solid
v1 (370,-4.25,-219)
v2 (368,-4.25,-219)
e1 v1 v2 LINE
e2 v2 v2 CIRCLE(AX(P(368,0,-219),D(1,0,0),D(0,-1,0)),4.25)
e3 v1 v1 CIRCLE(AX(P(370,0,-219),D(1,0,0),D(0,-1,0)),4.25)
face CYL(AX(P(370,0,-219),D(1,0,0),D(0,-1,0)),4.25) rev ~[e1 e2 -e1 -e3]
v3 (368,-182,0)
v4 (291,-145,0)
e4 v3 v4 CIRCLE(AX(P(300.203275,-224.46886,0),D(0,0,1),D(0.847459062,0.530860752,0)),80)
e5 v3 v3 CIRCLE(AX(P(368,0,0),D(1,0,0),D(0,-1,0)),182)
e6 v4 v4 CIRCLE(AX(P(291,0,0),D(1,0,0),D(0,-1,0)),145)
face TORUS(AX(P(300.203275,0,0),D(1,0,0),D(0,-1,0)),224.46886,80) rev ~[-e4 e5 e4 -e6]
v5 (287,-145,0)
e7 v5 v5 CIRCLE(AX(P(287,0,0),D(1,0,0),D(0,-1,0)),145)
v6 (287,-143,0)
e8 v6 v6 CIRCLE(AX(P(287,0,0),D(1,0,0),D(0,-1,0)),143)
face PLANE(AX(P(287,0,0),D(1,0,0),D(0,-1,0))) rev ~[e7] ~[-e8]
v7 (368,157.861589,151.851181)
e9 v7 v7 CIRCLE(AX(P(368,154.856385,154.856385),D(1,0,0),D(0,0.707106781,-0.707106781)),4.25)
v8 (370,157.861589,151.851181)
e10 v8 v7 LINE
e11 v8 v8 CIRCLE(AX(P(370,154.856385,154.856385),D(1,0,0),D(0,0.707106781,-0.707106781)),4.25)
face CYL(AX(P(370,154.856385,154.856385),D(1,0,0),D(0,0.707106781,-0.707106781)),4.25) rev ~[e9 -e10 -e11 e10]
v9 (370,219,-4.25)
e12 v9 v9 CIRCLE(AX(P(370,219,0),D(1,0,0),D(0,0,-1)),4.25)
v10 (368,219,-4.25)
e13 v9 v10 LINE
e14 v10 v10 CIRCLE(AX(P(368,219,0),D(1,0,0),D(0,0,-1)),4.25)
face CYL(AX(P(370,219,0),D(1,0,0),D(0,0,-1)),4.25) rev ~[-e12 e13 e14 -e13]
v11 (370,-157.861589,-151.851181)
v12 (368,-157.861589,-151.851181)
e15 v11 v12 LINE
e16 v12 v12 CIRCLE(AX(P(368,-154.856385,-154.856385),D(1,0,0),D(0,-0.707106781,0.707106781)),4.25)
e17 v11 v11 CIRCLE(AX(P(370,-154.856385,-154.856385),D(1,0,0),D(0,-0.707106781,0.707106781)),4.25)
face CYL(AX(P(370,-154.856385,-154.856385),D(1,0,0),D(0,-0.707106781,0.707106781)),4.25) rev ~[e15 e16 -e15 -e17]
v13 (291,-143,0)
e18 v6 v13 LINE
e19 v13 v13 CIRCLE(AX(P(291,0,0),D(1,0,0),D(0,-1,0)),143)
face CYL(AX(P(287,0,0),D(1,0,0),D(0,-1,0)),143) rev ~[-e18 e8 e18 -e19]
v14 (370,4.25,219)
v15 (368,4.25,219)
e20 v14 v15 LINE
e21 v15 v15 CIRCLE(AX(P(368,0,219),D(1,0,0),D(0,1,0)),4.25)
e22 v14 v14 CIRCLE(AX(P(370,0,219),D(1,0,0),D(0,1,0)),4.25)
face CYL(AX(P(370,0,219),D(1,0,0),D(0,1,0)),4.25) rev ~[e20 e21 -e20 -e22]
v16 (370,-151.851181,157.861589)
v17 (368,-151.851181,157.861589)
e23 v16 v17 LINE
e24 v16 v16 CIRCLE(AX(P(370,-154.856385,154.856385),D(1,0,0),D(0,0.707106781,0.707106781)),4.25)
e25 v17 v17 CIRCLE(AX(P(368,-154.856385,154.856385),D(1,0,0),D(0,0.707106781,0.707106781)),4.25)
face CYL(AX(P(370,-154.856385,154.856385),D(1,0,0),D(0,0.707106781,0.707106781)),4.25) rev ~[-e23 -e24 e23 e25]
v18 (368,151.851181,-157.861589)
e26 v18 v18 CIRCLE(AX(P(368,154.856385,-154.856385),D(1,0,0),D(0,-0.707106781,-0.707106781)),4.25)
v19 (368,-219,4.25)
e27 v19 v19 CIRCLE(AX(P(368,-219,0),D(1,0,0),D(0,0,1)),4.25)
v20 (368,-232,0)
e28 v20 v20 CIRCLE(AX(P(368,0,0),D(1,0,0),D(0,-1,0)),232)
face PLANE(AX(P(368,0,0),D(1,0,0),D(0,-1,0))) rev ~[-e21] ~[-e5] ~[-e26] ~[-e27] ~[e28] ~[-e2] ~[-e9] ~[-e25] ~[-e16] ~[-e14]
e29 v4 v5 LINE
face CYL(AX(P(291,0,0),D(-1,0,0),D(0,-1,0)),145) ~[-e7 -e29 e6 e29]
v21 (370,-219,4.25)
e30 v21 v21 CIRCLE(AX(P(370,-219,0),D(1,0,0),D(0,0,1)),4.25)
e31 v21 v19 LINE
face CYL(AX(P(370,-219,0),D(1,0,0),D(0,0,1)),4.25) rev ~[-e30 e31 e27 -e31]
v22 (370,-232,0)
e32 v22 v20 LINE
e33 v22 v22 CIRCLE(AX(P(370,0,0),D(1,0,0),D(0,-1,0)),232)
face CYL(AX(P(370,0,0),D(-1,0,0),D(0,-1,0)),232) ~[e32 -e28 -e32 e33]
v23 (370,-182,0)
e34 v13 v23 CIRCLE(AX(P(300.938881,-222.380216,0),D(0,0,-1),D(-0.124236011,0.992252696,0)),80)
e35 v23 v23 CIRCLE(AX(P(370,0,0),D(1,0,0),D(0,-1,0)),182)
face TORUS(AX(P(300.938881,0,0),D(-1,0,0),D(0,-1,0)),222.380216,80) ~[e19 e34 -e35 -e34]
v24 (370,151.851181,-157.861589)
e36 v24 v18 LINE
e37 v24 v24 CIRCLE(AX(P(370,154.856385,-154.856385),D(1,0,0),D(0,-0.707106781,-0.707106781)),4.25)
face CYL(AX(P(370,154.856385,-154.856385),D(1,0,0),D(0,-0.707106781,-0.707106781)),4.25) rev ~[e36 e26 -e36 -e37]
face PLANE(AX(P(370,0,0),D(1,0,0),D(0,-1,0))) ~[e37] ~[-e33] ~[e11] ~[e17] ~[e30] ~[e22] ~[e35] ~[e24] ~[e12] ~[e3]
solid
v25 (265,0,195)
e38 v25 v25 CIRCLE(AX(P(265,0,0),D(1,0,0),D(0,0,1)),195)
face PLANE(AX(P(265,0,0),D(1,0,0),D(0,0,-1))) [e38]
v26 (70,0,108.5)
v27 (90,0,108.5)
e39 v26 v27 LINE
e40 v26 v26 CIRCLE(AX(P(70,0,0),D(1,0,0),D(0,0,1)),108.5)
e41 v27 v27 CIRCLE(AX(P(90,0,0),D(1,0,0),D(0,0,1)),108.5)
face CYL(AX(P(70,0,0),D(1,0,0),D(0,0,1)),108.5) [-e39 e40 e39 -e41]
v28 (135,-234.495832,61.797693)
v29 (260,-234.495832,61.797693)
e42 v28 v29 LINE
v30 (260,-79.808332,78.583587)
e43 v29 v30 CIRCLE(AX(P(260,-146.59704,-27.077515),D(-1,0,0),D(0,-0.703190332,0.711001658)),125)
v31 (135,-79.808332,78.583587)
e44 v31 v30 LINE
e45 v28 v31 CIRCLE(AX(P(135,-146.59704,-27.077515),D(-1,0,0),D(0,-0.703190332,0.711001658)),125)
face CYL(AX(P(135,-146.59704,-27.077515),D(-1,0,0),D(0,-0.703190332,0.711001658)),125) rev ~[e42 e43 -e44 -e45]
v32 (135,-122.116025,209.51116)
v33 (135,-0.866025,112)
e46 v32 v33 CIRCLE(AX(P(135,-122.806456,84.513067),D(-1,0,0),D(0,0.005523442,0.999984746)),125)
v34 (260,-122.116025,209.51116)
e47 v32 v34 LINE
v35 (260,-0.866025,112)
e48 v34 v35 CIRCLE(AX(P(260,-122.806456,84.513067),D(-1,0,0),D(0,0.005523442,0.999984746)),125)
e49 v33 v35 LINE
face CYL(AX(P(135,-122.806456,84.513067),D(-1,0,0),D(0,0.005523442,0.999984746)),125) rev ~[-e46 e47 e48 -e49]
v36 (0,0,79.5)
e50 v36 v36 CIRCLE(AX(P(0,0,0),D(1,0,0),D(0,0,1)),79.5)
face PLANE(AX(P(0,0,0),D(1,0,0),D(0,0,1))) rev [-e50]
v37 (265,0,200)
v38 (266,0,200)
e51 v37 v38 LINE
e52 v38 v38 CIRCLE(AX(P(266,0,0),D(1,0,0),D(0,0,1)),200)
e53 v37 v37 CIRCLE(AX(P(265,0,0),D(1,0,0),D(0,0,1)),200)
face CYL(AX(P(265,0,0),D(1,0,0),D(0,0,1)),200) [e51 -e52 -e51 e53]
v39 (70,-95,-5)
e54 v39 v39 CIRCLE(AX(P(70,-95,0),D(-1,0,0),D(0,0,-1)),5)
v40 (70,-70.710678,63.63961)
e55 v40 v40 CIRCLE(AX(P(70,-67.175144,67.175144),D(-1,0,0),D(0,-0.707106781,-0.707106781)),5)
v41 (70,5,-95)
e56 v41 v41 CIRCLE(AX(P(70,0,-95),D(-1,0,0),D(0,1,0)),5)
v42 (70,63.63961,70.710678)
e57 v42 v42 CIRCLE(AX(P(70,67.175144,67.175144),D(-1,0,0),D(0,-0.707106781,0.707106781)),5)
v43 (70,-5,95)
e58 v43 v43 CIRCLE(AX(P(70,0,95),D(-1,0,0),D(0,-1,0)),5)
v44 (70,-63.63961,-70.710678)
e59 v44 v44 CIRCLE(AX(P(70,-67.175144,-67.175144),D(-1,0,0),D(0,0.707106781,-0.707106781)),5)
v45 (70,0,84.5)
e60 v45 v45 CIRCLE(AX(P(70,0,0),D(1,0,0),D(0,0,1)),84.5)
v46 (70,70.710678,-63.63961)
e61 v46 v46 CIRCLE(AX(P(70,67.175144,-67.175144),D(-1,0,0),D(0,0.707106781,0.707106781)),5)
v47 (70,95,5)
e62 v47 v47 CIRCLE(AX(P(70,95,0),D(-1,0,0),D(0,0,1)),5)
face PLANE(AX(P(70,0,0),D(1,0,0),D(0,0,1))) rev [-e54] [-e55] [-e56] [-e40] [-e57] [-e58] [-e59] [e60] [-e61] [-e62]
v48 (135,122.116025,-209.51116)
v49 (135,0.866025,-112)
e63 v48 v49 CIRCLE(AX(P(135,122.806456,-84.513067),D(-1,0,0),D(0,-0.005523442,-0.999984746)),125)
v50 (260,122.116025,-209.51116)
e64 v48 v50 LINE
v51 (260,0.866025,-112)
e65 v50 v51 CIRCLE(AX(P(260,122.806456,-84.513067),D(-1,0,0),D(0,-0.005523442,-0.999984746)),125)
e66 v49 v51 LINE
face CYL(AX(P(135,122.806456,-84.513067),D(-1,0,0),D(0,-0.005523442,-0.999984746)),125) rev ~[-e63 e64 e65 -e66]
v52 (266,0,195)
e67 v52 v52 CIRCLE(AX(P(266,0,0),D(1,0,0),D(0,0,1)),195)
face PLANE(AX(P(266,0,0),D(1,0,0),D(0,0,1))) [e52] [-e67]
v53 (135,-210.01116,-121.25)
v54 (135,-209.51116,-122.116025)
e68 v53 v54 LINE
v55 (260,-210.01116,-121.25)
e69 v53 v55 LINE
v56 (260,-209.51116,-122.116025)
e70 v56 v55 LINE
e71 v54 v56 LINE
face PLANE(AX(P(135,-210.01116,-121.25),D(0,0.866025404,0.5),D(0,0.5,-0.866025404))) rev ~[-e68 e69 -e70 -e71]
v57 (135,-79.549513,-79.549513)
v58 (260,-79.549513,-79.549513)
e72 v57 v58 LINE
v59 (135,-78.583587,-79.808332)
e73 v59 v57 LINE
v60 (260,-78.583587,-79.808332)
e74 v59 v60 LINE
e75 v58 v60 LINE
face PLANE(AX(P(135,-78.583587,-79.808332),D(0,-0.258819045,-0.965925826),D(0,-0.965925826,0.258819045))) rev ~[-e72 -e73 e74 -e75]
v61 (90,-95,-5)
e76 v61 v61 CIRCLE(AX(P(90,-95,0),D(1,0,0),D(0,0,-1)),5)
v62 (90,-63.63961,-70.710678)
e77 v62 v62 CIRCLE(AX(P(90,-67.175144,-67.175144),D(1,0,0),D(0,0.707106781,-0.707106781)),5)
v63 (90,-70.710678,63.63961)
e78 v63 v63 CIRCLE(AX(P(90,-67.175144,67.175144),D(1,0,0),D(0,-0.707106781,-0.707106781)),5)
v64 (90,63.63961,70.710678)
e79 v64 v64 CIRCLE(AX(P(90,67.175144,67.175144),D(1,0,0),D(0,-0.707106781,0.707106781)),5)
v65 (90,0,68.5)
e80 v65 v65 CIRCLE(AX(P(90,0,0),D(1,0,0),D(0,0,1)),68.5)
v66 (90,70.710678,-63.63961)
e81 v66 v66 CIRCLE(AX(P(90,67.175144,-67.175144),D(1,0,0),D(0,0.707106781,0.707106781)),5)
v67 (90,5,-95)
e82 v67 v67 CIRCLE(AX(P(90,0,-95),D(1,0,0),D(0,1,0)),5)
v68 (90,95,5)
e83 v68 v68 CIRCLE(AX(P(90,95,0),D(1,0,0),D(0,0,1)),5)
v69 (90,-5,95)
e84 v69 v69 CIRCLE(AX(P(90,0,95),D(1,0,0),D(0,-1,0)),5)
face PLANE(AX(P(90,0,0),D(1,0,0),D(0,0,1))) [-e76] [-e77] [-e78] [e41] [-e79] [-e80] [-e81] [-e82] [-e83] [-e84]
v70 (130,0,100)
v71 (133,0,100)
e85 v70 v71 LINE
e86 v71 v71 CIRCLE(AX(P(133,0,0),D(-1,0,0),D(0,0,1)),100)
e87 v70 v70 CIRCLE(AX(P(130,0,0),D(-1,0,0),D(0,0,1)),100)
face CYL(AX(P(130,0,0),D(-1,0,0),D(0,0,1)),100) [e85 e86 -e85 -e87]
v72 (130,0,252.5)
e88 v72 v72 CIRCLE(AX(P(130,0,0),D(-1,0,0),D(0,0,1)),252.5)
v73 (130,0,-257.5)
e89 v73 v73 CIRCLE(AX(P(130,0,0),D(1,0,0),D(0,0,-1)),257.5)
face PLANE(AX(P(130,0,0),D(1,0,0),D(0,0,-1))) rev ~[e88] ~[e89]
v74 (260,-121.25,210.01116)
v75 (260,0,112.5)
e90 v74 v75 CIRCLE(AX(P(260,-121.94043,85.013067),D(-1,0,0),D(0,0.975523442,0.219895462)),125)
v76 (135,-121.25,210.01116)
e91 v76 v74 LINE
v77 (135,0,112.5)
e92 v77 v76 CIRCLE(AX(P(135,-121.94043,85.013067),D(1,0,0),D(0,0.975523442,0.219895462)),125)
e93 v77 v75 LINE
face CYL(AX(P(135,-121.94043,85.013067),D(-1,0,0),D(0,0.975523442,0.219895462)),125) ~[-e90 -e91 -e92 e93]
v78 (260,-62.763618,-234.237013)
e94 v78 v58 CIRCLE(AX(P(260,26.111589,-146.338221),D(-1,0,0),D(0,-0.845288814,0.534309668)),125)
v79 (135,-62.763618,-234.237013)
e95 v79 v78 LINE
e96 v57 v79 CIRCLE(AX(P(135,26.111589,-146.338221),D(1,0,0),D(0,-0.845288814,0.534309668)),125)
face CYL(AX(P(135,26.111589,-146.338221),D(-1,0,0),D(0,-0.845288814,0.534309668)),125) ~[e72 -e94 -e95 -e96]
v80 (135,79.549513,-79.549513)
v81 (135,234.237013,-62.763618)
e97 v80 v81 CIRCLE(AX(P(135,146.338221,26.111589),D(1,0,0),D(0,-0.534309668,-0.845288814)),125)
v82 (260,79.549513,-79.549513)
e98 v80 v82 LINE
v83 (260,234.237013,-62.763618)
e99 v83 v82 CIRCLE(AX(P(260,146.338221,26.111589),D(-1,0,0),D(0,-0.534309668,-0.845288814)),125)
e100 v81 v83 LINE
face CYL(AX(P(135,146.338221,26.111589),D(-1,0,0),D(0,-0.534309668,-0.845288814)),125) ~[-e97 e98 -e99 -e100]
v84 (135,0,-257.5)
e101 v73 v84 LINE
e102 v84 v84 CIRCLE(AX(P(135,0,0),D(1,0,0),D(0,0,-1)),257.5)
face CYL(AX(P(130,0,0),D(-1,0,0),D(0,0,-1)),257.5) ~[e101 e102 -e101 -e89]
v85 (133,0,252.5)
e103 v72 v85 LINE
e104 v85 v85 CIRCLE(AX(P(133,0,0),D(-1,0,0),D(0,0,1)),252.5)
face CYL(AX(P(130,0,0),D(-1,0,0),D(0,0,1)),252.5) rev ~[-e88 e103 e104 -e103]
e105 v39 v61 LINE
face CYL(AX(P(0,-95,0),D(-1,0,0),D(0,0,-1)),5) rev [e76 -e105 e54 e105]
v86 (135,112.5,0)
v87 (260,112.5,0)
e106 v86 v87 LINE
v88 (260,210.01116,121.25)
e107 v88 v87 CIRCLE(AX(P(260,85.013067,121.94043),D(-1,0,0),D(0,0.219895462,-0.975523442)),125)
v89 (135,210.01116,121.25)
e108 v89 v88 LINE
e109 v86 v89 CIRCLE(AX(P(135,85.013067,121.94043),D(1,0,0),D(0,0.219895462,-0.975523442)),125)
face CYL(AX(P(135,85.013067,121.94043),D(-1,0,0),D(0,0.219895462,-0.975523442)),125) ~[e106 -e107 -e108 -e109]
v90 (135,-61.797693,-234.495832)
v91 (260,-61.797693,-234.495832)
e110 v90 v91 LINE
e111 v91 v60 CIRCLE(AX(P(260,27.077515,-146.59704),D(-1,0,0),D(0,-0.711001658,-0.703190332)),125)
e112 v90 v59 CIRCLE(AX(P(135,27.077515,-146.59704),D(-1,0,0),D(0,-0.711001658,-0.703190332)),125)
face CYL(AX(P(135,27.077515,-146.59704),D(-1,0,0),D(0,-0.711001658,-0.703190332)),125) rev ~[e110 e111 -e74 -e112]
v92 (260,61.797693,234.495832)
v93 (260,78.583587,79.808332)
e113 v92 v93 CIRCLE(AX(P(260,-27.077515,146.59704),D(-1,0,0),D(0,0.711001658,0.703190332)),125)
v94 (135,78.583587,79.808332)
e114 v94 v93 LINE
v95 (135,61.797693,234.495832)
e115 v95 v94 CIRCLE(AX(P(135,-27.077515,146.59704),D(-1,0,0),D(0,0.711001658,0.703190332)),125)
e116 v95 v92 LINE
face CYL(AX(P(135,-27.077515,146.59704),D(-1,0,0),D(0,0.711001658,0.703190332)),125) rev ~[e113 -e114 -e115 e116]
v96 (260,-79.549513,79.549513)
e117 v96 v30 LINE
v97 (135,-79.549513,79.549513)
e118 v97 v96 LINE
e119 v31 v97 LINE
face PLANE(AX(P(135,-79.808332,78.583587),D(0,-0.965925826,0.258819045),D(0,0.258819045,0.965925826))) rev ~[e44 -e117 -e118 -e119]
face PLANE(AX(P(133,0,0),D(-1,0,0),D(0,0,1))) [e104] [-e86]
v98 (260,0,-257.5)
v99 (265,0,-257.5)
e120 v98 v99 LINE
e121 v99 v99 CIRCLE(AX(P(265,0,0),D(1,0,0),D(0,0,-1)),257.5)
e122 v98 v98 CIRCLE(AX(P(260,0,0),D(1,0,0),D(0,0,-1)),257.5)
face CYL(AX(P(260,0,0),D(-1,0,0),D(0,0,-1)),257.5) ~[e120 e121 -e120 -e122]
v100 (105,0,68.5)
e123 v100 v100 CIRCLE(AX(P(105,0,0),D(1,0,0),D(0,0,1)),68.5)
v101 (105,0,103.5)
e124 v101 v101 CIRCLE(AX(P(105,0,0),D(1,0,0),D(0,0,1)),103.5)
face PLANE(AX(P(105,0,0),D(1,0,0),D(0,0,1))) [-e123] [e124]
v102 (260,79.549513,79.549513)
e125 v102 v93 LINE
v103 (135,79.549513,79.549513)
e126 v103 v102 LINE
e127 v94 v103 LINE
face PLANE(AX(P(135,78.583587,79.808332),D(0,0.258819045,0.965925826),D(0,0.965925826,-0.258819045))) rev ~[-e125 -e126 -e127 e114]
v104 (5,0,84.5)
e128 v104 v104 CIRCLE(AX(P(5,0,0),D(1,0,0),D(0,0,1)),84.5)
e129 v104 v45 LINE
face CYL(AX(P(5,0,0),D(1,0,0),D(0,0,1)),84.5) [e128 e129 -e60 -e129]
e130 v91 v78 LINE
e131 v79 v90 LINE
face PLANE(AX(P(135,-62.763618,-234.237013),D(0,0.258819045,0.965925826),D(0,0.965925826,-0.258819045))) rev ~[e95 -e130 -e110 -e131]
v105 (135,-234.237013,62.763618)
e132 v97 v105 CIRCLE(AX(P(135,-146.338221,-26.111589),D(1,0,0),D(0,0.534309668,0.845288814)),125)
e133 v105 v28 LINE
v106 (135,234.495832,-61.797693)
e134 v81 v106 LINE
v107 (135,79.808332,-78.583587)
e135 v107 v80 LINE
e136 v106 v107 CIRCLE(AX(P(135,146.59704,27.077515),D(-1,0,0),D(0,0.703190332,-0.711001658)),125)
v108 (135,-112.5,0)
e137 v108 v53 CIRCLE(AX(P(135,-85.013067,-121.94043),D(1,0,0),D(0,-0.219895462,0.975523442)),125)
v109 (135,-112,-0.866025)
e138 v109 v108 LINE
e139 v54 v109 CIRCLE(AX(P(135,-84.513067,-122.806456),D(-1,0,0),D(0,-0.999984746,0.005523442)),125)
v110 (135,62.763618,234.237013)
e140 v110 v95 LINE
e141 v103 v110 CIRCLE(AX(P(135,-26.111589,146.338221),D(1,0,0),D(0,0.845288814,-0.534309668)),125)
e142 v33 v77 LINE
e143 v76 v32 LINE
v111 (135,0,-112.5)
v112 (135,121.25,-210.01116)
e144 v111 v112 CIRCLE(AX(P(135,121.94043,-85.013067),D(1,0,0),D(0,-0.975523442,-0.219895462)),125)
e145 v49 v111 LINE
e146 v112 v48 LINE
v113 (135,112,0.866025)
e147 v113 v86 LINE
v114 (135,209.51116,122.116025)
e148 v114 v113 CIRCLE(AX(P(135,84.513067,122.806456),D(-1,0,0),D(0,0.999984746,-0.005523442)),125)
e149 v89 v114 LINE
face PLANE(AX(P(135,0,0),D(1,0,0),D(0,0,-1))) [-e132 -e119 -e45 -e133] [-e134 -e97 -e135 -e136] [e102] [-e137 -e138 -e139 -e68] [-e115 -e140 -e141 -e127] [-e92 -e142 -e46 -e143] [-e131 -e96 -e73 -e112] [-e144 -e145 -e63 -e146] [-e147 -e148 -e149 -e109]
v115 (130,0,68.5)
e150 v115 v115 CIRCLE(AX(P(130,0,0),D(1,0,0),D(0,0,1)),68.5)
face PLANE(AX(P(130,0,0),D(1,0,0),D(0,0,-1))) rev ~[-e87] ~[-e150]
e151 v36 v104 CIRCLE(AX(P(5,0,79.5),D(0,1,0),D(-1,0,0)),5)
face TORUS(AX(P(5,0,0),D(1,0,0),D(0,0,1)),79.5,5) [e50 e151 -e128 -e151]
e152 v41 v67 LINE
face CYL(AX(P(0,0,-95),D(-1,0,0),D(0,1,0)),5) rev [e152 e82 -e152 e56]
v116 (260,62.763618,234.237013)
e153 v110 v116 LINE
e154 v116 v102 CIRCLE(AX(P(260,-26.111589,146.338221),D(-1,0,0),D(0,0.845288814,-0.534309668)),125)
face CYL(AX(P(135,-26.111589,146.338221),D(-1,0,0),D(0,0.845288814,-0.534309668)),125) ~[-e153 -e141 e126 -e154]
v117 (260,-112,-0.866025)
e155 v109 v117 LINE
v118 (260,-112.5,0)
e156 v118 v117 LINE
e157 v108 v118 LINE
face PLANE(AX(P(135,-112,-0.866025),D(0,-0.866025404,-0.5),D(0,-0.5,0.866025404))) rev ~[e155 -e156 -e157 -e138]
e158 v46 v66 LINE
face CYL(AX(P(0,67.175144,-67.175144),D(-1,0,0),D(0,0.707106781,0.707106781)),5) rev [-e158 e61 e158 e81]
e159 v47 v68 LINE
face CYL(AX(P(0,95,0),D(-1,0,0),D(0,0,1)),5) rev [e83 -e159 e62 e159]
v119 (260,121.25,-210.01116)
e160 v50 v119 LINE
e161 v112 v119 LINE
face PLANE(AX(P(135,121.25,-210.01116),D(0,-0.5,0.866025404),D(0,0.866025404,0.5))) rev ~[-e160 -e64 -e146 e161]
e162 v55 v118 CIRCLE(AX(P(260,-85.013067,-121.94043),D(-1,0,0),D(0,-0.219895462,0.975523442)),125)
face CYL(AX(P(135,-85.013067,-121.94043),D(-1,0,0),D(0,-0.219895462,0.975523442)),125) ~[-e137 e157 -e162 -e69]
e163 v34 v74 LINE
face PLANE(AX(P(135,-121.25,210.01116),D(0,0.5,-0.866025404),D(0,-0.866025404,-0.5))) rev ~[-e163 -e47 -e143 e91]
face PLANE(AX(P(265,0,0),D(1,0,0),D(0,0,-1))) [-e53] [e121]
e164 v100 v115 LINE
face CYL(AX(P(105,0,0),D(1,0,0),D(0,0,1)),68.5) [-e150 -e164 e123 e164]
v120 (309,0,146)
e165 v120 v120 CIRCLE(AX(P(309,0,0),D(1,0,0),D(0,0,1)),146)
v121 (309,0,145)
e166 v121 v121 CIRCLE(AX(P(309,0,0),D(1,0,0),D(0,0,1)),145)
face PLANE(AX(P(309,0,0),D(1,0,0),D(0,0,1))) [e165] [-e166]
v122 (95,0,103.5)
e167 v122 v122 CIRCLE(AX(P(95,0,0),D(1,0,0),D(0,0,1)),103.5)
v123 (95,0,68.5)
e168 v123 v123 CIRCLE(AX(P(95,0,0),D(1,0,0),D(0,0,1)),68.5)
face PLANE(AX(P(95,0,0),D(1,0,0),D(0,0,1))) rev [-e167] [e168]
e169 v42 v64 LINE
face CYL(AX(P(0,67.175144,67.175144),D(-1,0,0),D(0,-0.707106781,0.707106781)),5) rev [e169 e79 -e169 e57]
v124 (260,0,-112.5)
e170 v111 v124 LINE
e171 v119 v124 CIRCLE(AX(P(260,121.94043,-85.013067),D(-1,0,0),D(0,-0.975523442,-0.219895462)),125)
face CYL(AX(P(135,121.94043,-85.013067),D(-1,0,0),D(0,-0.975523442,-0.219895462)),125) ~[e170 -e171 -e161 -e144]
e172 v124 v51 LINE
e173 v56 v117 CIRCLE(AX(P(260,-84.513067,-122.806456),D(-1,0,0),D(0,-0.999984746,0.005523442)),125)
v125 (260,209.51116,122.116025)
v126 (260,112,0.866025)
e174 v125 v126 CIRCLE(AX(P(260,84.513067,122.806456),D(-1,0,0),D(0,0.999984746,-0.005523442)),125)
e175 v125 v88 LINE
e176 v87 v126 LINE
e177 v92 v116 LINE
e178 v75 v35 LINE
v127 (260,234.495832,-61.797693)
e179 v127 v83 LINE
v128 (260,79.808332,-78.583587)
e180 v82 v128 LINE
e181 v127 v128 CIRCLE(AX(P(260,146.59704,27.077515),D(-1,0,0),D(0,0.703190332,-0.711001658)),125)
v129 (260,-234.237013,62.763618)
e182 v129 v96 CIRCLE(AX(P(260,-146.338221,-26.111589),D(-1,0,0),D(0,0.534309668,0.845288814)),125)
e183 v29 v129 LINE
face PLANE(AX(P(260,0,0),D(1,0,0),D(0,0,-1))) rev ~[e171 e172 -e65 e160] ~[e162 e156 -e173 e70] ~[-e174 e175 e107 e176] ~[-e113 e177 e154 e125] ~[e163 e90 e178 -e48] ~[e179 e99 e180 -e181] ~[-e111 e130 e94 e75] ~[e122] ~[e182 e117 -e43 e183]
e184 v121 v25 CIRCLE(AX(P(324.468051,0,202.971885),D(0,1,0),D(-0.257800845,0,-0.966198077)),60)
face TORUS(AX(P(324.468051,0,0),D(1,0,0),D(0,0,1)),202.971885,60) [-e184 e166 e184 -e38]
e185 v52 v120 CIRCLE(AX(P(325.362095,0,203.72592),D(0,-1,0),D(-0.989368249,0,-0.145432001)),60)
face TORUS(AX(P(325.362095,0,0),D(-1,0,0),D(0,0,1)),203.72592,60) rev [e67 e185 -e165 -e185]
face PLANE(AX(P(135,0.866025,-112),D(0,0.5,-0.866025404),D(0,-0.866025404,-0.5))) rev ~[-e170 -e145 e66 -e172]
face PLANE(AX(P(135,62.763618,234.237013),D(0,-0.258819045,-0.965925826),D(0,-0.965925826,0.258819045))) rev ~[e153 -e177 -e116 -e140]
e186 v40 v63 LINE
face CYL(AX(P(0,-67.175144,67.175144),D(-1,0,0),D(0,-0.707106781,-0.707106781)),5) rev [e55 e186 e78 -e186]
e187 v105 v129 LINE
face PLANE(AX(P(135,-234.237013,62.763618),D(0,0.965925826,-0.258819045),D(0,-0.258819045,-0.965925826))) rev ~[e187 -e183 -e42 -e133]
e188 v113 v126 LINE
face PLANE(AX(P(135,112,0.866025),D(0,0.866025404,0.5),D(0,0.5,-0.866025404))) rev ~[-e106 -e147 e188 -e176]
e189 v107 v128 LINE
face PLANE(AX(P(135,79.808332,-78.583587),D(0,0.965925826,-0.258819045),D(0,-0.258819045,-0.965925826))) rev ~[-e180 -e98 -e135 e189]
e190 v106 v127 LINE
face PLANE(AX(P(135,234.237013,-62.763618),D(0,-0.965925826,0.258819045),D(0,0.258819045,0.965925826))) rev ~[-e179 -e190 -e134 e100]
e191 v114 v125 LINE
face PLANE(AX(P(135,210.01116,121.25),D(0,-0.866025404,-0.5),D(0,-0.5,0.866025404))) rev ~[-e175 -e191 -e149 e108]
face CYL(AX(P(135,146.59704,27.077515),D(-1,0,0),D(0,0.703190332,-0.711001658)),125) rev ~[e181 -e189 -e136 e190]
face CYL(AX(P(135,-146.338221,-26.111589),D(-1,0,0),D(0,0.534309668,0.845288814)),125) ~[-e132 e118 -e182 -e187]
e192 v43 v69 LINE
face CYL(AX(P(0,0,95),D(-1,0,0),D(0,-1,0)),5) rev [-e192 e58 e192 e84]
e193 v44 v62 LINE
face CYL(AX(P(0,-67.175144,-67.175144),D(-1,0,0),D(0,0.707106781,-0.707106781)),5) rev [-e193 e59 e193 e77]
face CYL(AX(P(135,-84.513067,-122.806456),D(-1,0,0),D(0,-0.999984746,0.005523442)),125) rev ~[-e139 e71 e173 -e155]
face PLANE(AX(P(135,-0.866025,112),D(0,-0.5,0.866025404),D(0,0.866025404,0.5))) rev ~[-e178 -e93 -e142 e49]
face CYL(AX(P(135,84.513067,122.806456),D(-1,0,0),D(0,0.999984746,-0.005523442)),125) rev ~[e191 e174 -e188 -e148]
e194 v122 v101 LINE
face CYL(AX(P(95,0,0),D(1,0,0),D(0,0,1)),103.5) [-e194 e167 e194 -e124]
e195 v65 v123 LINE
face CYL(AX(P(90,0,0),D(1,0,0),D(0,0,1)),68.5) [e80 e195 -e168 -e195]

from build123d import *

# Parameters (mm, degrees)
SKETCH2_R         = 257.5
EXTRUDE1_DEPTH    = 5
SKETCH9_R         = 252.5
SKETCH9_R_2       = 100
EXTRUDE7_DEPTH    = 3
SKETCH3_R         = 257.5
EXTRUDE2_DEPTH    = 5
EXTRUDE3_DEPTH    = 130
CIRPATTERN1_COUNT = 8
SKETCH7_R         = 4.25
EXTRUDE5_DEPTH    = 5
CIRPATTERN2_COUNT = 8
SKETCH8_R         = 5
EXTRUDE6_DEPTH    = 90
CIRPATTERN3_COUNT = 8


with BuildPart() as part:
    # Sketch1 → Revolve1 (revolve)
    with BuildSketch(Plane.XY, mode=Mode.PRIVATE) as revolve1_sk:
        with BuildLine():
            Line((0, 0), (0, 79.5))
            ThreePointArc((0, 79.5), (1.464466094, 83.035533906), (5, 84.5))
            Line((5, 84.5), (70, 84.5))
            Line((70, 84.5), (70, 108.5))
            Line((70, 108.5), (90, 108.5))
            Line((90, 108.5), (90, 68.5))
            Line((90, 68.5), (95, 68.5))
            Line((95, 68.5), (95, 103.5))
            Line((95, 103.5), (105, 103.5))
            Line((105, 103.5), (105, 68.5))
            Line((105, 68.5), (130, 68.5))
            Line((130, 68.5), (130, 0))
            Line((130, 0), (0, 0))
        make_face()
    revolve(revolve1_sk.sketch.rotate(Axis((0, 0, 0), (1, 0, 0)), 90), axis=Axis((0, 0, 0), (1, 0, 0)))

    # Sketch2 → Extrude1 (add)
    with BuildSketch(Plane(origin=(130, 0, 0), x_dir=(0, 0, -1), z_dir=(1, 0, 0))):
        Circle(SKETCH2_R)
    extrude(amount=EXTRUDE1_DEPTH)

    # Sketch9 → Extrude7 (cut)
    with BuildSketch(Plane.ZY.offset(-130)):
        Circle(SKETCH9_R)
        Circle(SKETCH9_R_2, mode=Mode.SUBTRACT)
    extrude(amount=-EXTRUDE7_DEPTH, mode=Mode.SUBTRACT)



with BuildPart() as body_2:
    # Sketch3 → Extrude2 (new body)
    with BuildSketch(Plane(origin=(260, 0, 0), x_dir=(0, 0, -1), z_dir=(1, 0, 0))):
        Circle(SKETCH3_R)
    extrude(amount=EXTRUDE2_DEPTH)


with BuildPart() as part_1:
    add(part.part)

    add(body_2.part)  # Extrude3 merges body 2
    # Sketch4 → Extrude3 (add)
    with BuildSketch(Plane(origin=(135, 0, 0), x_dir=(0, 0, -1), z_dir=(1, 0, 0))):
        with BuildLine():
            Line((-121.25, 210.011160418), (-122.116025404, 209.511160418))
            ThreePointArc((-122.116025404, 209.511160418), (-44.469436379, 181.921031018), (-0.866025404, 112))
            Line((-0.866025404, 112), (0, 112.5))
            ThreePointArc((0, 112.5), (-43.603410976, 182.421031018), (-121.25, 210.011160418))
        make_face()
    extrude3 = extrude(amount=EXTRUDE3_DEPTH)

    # CirPattern1: Extrude3 ×8 about axis
    cirpattern1_axis = Axis((0, 0, 0), (1, 0, 0))
    for i in range(1, CIRPATTERN1_COUNT):
        add(extrude3.rotate(cirpattern1_axis, i * 360 / CIRPATTERN1_COUNT))

    # Sketch5 → Revolve2 (revolve)
    with BuildSketch(Plane.XY, mode=Mode.PRIVATE) as revolve2_sk:
        with BuildLine():
            Line((265, 200), (266, 200))
            Line((266, 200), (266, 195))
            ThreePointArc((266, 195), (280.264553623, 164.150526649), (309, 146))
            Line((309, 146), (309, 145))
            ThreePointArc((309, 145), (279.425239697, 163.334210933), (265, 195))
            Line((265, 195), (265, 200))
        make_face()
    revolve(revolve2_sk.sketch.rotate(Axis((0, 0, 0), (1, 0, 0)), 90), axis=Axis((0, 0, 0), (1, 0, 0)))

    # Sketch8 → Extrude6 (cut)
    with BuildSketch(Plane(origin=(0, 0, 0), x_dir=(0, 0, -1), z_dir=(1, 0, 0))):
        with Locations(Location((0, 95, 0), (0, 0, 180))):
            Circle(SKETCH8_R)
    extrude6 = extrude(amount=EXTRUDE6_DEPTH, mode=Mode.SUBTRACT)

    # CirPattern3: Extrude6 ×8 about axis
    cirpattern3_axis = Axis((0, 0, 0), (1, 0, 0))
    for i in range(1, CIRPATTERN3_COUNT):
        add(extrude6.rotate(cirpattern3_axis, i * 360 / CIRPATTERN3_COUNT), mode=Mode.SUBTRACT)


with BuildPart() as body_2_2:
    # Sketch6 → Revolve3 (revolve)
    with BuildSketch(Plane.XY, mode=Mode.PRIVATE) as revolve3_sk:
        with BuildLine():
            Line((370, 232), (368, 232))
            Line((368, 232), (368, 182))
            ThreePointArc((368, 182), (334.85220133, 152.361635071), (291, 145))
            Line((291, 145), (287, 145))
            Line((287, 145), (287, 143))
            Line((287, 143), (291, 143))
            ThreePointArc((291, 143), (336.352293074, 150.645355054), (370, 182))
            Line((370, 182), (370, 232))
        make_face()
    revolve(revolve3_sk.sketch.rotate(Axis((0, 0, 0), (1, 0, 0)), 180), axis=Axis((0, 0, 0), (1, 0, 0)))

    # Sketch7 → Extrude5 (cut)
    with BuildSketch(Plane(origin=(370, 0, 0), x_dir=(0, 0, -1), z_dir=(1, 0, 0))):
        with Locations((0, 219)):
            Circle(SKETCH7_R)
    extrude5 = extrude(amount=-EXTRUDE5_DEPTH, mode=Mode.SUBTRACT)

    # CirPattern2: Extrude5 ×8 about axis
    cirpattern2_axis = Axis((0, 0, 0), (1, 0, 0))
    for i in range(1, CIRPATTERN2_COUNT):
        add(extrude5.rotate(cirpattern2_axis, i * 360 / CIRPATTERN2_COUNT), mode=Mode.SUBTRACT)


solid = Compound([part_1.part, body_2_2.part])
